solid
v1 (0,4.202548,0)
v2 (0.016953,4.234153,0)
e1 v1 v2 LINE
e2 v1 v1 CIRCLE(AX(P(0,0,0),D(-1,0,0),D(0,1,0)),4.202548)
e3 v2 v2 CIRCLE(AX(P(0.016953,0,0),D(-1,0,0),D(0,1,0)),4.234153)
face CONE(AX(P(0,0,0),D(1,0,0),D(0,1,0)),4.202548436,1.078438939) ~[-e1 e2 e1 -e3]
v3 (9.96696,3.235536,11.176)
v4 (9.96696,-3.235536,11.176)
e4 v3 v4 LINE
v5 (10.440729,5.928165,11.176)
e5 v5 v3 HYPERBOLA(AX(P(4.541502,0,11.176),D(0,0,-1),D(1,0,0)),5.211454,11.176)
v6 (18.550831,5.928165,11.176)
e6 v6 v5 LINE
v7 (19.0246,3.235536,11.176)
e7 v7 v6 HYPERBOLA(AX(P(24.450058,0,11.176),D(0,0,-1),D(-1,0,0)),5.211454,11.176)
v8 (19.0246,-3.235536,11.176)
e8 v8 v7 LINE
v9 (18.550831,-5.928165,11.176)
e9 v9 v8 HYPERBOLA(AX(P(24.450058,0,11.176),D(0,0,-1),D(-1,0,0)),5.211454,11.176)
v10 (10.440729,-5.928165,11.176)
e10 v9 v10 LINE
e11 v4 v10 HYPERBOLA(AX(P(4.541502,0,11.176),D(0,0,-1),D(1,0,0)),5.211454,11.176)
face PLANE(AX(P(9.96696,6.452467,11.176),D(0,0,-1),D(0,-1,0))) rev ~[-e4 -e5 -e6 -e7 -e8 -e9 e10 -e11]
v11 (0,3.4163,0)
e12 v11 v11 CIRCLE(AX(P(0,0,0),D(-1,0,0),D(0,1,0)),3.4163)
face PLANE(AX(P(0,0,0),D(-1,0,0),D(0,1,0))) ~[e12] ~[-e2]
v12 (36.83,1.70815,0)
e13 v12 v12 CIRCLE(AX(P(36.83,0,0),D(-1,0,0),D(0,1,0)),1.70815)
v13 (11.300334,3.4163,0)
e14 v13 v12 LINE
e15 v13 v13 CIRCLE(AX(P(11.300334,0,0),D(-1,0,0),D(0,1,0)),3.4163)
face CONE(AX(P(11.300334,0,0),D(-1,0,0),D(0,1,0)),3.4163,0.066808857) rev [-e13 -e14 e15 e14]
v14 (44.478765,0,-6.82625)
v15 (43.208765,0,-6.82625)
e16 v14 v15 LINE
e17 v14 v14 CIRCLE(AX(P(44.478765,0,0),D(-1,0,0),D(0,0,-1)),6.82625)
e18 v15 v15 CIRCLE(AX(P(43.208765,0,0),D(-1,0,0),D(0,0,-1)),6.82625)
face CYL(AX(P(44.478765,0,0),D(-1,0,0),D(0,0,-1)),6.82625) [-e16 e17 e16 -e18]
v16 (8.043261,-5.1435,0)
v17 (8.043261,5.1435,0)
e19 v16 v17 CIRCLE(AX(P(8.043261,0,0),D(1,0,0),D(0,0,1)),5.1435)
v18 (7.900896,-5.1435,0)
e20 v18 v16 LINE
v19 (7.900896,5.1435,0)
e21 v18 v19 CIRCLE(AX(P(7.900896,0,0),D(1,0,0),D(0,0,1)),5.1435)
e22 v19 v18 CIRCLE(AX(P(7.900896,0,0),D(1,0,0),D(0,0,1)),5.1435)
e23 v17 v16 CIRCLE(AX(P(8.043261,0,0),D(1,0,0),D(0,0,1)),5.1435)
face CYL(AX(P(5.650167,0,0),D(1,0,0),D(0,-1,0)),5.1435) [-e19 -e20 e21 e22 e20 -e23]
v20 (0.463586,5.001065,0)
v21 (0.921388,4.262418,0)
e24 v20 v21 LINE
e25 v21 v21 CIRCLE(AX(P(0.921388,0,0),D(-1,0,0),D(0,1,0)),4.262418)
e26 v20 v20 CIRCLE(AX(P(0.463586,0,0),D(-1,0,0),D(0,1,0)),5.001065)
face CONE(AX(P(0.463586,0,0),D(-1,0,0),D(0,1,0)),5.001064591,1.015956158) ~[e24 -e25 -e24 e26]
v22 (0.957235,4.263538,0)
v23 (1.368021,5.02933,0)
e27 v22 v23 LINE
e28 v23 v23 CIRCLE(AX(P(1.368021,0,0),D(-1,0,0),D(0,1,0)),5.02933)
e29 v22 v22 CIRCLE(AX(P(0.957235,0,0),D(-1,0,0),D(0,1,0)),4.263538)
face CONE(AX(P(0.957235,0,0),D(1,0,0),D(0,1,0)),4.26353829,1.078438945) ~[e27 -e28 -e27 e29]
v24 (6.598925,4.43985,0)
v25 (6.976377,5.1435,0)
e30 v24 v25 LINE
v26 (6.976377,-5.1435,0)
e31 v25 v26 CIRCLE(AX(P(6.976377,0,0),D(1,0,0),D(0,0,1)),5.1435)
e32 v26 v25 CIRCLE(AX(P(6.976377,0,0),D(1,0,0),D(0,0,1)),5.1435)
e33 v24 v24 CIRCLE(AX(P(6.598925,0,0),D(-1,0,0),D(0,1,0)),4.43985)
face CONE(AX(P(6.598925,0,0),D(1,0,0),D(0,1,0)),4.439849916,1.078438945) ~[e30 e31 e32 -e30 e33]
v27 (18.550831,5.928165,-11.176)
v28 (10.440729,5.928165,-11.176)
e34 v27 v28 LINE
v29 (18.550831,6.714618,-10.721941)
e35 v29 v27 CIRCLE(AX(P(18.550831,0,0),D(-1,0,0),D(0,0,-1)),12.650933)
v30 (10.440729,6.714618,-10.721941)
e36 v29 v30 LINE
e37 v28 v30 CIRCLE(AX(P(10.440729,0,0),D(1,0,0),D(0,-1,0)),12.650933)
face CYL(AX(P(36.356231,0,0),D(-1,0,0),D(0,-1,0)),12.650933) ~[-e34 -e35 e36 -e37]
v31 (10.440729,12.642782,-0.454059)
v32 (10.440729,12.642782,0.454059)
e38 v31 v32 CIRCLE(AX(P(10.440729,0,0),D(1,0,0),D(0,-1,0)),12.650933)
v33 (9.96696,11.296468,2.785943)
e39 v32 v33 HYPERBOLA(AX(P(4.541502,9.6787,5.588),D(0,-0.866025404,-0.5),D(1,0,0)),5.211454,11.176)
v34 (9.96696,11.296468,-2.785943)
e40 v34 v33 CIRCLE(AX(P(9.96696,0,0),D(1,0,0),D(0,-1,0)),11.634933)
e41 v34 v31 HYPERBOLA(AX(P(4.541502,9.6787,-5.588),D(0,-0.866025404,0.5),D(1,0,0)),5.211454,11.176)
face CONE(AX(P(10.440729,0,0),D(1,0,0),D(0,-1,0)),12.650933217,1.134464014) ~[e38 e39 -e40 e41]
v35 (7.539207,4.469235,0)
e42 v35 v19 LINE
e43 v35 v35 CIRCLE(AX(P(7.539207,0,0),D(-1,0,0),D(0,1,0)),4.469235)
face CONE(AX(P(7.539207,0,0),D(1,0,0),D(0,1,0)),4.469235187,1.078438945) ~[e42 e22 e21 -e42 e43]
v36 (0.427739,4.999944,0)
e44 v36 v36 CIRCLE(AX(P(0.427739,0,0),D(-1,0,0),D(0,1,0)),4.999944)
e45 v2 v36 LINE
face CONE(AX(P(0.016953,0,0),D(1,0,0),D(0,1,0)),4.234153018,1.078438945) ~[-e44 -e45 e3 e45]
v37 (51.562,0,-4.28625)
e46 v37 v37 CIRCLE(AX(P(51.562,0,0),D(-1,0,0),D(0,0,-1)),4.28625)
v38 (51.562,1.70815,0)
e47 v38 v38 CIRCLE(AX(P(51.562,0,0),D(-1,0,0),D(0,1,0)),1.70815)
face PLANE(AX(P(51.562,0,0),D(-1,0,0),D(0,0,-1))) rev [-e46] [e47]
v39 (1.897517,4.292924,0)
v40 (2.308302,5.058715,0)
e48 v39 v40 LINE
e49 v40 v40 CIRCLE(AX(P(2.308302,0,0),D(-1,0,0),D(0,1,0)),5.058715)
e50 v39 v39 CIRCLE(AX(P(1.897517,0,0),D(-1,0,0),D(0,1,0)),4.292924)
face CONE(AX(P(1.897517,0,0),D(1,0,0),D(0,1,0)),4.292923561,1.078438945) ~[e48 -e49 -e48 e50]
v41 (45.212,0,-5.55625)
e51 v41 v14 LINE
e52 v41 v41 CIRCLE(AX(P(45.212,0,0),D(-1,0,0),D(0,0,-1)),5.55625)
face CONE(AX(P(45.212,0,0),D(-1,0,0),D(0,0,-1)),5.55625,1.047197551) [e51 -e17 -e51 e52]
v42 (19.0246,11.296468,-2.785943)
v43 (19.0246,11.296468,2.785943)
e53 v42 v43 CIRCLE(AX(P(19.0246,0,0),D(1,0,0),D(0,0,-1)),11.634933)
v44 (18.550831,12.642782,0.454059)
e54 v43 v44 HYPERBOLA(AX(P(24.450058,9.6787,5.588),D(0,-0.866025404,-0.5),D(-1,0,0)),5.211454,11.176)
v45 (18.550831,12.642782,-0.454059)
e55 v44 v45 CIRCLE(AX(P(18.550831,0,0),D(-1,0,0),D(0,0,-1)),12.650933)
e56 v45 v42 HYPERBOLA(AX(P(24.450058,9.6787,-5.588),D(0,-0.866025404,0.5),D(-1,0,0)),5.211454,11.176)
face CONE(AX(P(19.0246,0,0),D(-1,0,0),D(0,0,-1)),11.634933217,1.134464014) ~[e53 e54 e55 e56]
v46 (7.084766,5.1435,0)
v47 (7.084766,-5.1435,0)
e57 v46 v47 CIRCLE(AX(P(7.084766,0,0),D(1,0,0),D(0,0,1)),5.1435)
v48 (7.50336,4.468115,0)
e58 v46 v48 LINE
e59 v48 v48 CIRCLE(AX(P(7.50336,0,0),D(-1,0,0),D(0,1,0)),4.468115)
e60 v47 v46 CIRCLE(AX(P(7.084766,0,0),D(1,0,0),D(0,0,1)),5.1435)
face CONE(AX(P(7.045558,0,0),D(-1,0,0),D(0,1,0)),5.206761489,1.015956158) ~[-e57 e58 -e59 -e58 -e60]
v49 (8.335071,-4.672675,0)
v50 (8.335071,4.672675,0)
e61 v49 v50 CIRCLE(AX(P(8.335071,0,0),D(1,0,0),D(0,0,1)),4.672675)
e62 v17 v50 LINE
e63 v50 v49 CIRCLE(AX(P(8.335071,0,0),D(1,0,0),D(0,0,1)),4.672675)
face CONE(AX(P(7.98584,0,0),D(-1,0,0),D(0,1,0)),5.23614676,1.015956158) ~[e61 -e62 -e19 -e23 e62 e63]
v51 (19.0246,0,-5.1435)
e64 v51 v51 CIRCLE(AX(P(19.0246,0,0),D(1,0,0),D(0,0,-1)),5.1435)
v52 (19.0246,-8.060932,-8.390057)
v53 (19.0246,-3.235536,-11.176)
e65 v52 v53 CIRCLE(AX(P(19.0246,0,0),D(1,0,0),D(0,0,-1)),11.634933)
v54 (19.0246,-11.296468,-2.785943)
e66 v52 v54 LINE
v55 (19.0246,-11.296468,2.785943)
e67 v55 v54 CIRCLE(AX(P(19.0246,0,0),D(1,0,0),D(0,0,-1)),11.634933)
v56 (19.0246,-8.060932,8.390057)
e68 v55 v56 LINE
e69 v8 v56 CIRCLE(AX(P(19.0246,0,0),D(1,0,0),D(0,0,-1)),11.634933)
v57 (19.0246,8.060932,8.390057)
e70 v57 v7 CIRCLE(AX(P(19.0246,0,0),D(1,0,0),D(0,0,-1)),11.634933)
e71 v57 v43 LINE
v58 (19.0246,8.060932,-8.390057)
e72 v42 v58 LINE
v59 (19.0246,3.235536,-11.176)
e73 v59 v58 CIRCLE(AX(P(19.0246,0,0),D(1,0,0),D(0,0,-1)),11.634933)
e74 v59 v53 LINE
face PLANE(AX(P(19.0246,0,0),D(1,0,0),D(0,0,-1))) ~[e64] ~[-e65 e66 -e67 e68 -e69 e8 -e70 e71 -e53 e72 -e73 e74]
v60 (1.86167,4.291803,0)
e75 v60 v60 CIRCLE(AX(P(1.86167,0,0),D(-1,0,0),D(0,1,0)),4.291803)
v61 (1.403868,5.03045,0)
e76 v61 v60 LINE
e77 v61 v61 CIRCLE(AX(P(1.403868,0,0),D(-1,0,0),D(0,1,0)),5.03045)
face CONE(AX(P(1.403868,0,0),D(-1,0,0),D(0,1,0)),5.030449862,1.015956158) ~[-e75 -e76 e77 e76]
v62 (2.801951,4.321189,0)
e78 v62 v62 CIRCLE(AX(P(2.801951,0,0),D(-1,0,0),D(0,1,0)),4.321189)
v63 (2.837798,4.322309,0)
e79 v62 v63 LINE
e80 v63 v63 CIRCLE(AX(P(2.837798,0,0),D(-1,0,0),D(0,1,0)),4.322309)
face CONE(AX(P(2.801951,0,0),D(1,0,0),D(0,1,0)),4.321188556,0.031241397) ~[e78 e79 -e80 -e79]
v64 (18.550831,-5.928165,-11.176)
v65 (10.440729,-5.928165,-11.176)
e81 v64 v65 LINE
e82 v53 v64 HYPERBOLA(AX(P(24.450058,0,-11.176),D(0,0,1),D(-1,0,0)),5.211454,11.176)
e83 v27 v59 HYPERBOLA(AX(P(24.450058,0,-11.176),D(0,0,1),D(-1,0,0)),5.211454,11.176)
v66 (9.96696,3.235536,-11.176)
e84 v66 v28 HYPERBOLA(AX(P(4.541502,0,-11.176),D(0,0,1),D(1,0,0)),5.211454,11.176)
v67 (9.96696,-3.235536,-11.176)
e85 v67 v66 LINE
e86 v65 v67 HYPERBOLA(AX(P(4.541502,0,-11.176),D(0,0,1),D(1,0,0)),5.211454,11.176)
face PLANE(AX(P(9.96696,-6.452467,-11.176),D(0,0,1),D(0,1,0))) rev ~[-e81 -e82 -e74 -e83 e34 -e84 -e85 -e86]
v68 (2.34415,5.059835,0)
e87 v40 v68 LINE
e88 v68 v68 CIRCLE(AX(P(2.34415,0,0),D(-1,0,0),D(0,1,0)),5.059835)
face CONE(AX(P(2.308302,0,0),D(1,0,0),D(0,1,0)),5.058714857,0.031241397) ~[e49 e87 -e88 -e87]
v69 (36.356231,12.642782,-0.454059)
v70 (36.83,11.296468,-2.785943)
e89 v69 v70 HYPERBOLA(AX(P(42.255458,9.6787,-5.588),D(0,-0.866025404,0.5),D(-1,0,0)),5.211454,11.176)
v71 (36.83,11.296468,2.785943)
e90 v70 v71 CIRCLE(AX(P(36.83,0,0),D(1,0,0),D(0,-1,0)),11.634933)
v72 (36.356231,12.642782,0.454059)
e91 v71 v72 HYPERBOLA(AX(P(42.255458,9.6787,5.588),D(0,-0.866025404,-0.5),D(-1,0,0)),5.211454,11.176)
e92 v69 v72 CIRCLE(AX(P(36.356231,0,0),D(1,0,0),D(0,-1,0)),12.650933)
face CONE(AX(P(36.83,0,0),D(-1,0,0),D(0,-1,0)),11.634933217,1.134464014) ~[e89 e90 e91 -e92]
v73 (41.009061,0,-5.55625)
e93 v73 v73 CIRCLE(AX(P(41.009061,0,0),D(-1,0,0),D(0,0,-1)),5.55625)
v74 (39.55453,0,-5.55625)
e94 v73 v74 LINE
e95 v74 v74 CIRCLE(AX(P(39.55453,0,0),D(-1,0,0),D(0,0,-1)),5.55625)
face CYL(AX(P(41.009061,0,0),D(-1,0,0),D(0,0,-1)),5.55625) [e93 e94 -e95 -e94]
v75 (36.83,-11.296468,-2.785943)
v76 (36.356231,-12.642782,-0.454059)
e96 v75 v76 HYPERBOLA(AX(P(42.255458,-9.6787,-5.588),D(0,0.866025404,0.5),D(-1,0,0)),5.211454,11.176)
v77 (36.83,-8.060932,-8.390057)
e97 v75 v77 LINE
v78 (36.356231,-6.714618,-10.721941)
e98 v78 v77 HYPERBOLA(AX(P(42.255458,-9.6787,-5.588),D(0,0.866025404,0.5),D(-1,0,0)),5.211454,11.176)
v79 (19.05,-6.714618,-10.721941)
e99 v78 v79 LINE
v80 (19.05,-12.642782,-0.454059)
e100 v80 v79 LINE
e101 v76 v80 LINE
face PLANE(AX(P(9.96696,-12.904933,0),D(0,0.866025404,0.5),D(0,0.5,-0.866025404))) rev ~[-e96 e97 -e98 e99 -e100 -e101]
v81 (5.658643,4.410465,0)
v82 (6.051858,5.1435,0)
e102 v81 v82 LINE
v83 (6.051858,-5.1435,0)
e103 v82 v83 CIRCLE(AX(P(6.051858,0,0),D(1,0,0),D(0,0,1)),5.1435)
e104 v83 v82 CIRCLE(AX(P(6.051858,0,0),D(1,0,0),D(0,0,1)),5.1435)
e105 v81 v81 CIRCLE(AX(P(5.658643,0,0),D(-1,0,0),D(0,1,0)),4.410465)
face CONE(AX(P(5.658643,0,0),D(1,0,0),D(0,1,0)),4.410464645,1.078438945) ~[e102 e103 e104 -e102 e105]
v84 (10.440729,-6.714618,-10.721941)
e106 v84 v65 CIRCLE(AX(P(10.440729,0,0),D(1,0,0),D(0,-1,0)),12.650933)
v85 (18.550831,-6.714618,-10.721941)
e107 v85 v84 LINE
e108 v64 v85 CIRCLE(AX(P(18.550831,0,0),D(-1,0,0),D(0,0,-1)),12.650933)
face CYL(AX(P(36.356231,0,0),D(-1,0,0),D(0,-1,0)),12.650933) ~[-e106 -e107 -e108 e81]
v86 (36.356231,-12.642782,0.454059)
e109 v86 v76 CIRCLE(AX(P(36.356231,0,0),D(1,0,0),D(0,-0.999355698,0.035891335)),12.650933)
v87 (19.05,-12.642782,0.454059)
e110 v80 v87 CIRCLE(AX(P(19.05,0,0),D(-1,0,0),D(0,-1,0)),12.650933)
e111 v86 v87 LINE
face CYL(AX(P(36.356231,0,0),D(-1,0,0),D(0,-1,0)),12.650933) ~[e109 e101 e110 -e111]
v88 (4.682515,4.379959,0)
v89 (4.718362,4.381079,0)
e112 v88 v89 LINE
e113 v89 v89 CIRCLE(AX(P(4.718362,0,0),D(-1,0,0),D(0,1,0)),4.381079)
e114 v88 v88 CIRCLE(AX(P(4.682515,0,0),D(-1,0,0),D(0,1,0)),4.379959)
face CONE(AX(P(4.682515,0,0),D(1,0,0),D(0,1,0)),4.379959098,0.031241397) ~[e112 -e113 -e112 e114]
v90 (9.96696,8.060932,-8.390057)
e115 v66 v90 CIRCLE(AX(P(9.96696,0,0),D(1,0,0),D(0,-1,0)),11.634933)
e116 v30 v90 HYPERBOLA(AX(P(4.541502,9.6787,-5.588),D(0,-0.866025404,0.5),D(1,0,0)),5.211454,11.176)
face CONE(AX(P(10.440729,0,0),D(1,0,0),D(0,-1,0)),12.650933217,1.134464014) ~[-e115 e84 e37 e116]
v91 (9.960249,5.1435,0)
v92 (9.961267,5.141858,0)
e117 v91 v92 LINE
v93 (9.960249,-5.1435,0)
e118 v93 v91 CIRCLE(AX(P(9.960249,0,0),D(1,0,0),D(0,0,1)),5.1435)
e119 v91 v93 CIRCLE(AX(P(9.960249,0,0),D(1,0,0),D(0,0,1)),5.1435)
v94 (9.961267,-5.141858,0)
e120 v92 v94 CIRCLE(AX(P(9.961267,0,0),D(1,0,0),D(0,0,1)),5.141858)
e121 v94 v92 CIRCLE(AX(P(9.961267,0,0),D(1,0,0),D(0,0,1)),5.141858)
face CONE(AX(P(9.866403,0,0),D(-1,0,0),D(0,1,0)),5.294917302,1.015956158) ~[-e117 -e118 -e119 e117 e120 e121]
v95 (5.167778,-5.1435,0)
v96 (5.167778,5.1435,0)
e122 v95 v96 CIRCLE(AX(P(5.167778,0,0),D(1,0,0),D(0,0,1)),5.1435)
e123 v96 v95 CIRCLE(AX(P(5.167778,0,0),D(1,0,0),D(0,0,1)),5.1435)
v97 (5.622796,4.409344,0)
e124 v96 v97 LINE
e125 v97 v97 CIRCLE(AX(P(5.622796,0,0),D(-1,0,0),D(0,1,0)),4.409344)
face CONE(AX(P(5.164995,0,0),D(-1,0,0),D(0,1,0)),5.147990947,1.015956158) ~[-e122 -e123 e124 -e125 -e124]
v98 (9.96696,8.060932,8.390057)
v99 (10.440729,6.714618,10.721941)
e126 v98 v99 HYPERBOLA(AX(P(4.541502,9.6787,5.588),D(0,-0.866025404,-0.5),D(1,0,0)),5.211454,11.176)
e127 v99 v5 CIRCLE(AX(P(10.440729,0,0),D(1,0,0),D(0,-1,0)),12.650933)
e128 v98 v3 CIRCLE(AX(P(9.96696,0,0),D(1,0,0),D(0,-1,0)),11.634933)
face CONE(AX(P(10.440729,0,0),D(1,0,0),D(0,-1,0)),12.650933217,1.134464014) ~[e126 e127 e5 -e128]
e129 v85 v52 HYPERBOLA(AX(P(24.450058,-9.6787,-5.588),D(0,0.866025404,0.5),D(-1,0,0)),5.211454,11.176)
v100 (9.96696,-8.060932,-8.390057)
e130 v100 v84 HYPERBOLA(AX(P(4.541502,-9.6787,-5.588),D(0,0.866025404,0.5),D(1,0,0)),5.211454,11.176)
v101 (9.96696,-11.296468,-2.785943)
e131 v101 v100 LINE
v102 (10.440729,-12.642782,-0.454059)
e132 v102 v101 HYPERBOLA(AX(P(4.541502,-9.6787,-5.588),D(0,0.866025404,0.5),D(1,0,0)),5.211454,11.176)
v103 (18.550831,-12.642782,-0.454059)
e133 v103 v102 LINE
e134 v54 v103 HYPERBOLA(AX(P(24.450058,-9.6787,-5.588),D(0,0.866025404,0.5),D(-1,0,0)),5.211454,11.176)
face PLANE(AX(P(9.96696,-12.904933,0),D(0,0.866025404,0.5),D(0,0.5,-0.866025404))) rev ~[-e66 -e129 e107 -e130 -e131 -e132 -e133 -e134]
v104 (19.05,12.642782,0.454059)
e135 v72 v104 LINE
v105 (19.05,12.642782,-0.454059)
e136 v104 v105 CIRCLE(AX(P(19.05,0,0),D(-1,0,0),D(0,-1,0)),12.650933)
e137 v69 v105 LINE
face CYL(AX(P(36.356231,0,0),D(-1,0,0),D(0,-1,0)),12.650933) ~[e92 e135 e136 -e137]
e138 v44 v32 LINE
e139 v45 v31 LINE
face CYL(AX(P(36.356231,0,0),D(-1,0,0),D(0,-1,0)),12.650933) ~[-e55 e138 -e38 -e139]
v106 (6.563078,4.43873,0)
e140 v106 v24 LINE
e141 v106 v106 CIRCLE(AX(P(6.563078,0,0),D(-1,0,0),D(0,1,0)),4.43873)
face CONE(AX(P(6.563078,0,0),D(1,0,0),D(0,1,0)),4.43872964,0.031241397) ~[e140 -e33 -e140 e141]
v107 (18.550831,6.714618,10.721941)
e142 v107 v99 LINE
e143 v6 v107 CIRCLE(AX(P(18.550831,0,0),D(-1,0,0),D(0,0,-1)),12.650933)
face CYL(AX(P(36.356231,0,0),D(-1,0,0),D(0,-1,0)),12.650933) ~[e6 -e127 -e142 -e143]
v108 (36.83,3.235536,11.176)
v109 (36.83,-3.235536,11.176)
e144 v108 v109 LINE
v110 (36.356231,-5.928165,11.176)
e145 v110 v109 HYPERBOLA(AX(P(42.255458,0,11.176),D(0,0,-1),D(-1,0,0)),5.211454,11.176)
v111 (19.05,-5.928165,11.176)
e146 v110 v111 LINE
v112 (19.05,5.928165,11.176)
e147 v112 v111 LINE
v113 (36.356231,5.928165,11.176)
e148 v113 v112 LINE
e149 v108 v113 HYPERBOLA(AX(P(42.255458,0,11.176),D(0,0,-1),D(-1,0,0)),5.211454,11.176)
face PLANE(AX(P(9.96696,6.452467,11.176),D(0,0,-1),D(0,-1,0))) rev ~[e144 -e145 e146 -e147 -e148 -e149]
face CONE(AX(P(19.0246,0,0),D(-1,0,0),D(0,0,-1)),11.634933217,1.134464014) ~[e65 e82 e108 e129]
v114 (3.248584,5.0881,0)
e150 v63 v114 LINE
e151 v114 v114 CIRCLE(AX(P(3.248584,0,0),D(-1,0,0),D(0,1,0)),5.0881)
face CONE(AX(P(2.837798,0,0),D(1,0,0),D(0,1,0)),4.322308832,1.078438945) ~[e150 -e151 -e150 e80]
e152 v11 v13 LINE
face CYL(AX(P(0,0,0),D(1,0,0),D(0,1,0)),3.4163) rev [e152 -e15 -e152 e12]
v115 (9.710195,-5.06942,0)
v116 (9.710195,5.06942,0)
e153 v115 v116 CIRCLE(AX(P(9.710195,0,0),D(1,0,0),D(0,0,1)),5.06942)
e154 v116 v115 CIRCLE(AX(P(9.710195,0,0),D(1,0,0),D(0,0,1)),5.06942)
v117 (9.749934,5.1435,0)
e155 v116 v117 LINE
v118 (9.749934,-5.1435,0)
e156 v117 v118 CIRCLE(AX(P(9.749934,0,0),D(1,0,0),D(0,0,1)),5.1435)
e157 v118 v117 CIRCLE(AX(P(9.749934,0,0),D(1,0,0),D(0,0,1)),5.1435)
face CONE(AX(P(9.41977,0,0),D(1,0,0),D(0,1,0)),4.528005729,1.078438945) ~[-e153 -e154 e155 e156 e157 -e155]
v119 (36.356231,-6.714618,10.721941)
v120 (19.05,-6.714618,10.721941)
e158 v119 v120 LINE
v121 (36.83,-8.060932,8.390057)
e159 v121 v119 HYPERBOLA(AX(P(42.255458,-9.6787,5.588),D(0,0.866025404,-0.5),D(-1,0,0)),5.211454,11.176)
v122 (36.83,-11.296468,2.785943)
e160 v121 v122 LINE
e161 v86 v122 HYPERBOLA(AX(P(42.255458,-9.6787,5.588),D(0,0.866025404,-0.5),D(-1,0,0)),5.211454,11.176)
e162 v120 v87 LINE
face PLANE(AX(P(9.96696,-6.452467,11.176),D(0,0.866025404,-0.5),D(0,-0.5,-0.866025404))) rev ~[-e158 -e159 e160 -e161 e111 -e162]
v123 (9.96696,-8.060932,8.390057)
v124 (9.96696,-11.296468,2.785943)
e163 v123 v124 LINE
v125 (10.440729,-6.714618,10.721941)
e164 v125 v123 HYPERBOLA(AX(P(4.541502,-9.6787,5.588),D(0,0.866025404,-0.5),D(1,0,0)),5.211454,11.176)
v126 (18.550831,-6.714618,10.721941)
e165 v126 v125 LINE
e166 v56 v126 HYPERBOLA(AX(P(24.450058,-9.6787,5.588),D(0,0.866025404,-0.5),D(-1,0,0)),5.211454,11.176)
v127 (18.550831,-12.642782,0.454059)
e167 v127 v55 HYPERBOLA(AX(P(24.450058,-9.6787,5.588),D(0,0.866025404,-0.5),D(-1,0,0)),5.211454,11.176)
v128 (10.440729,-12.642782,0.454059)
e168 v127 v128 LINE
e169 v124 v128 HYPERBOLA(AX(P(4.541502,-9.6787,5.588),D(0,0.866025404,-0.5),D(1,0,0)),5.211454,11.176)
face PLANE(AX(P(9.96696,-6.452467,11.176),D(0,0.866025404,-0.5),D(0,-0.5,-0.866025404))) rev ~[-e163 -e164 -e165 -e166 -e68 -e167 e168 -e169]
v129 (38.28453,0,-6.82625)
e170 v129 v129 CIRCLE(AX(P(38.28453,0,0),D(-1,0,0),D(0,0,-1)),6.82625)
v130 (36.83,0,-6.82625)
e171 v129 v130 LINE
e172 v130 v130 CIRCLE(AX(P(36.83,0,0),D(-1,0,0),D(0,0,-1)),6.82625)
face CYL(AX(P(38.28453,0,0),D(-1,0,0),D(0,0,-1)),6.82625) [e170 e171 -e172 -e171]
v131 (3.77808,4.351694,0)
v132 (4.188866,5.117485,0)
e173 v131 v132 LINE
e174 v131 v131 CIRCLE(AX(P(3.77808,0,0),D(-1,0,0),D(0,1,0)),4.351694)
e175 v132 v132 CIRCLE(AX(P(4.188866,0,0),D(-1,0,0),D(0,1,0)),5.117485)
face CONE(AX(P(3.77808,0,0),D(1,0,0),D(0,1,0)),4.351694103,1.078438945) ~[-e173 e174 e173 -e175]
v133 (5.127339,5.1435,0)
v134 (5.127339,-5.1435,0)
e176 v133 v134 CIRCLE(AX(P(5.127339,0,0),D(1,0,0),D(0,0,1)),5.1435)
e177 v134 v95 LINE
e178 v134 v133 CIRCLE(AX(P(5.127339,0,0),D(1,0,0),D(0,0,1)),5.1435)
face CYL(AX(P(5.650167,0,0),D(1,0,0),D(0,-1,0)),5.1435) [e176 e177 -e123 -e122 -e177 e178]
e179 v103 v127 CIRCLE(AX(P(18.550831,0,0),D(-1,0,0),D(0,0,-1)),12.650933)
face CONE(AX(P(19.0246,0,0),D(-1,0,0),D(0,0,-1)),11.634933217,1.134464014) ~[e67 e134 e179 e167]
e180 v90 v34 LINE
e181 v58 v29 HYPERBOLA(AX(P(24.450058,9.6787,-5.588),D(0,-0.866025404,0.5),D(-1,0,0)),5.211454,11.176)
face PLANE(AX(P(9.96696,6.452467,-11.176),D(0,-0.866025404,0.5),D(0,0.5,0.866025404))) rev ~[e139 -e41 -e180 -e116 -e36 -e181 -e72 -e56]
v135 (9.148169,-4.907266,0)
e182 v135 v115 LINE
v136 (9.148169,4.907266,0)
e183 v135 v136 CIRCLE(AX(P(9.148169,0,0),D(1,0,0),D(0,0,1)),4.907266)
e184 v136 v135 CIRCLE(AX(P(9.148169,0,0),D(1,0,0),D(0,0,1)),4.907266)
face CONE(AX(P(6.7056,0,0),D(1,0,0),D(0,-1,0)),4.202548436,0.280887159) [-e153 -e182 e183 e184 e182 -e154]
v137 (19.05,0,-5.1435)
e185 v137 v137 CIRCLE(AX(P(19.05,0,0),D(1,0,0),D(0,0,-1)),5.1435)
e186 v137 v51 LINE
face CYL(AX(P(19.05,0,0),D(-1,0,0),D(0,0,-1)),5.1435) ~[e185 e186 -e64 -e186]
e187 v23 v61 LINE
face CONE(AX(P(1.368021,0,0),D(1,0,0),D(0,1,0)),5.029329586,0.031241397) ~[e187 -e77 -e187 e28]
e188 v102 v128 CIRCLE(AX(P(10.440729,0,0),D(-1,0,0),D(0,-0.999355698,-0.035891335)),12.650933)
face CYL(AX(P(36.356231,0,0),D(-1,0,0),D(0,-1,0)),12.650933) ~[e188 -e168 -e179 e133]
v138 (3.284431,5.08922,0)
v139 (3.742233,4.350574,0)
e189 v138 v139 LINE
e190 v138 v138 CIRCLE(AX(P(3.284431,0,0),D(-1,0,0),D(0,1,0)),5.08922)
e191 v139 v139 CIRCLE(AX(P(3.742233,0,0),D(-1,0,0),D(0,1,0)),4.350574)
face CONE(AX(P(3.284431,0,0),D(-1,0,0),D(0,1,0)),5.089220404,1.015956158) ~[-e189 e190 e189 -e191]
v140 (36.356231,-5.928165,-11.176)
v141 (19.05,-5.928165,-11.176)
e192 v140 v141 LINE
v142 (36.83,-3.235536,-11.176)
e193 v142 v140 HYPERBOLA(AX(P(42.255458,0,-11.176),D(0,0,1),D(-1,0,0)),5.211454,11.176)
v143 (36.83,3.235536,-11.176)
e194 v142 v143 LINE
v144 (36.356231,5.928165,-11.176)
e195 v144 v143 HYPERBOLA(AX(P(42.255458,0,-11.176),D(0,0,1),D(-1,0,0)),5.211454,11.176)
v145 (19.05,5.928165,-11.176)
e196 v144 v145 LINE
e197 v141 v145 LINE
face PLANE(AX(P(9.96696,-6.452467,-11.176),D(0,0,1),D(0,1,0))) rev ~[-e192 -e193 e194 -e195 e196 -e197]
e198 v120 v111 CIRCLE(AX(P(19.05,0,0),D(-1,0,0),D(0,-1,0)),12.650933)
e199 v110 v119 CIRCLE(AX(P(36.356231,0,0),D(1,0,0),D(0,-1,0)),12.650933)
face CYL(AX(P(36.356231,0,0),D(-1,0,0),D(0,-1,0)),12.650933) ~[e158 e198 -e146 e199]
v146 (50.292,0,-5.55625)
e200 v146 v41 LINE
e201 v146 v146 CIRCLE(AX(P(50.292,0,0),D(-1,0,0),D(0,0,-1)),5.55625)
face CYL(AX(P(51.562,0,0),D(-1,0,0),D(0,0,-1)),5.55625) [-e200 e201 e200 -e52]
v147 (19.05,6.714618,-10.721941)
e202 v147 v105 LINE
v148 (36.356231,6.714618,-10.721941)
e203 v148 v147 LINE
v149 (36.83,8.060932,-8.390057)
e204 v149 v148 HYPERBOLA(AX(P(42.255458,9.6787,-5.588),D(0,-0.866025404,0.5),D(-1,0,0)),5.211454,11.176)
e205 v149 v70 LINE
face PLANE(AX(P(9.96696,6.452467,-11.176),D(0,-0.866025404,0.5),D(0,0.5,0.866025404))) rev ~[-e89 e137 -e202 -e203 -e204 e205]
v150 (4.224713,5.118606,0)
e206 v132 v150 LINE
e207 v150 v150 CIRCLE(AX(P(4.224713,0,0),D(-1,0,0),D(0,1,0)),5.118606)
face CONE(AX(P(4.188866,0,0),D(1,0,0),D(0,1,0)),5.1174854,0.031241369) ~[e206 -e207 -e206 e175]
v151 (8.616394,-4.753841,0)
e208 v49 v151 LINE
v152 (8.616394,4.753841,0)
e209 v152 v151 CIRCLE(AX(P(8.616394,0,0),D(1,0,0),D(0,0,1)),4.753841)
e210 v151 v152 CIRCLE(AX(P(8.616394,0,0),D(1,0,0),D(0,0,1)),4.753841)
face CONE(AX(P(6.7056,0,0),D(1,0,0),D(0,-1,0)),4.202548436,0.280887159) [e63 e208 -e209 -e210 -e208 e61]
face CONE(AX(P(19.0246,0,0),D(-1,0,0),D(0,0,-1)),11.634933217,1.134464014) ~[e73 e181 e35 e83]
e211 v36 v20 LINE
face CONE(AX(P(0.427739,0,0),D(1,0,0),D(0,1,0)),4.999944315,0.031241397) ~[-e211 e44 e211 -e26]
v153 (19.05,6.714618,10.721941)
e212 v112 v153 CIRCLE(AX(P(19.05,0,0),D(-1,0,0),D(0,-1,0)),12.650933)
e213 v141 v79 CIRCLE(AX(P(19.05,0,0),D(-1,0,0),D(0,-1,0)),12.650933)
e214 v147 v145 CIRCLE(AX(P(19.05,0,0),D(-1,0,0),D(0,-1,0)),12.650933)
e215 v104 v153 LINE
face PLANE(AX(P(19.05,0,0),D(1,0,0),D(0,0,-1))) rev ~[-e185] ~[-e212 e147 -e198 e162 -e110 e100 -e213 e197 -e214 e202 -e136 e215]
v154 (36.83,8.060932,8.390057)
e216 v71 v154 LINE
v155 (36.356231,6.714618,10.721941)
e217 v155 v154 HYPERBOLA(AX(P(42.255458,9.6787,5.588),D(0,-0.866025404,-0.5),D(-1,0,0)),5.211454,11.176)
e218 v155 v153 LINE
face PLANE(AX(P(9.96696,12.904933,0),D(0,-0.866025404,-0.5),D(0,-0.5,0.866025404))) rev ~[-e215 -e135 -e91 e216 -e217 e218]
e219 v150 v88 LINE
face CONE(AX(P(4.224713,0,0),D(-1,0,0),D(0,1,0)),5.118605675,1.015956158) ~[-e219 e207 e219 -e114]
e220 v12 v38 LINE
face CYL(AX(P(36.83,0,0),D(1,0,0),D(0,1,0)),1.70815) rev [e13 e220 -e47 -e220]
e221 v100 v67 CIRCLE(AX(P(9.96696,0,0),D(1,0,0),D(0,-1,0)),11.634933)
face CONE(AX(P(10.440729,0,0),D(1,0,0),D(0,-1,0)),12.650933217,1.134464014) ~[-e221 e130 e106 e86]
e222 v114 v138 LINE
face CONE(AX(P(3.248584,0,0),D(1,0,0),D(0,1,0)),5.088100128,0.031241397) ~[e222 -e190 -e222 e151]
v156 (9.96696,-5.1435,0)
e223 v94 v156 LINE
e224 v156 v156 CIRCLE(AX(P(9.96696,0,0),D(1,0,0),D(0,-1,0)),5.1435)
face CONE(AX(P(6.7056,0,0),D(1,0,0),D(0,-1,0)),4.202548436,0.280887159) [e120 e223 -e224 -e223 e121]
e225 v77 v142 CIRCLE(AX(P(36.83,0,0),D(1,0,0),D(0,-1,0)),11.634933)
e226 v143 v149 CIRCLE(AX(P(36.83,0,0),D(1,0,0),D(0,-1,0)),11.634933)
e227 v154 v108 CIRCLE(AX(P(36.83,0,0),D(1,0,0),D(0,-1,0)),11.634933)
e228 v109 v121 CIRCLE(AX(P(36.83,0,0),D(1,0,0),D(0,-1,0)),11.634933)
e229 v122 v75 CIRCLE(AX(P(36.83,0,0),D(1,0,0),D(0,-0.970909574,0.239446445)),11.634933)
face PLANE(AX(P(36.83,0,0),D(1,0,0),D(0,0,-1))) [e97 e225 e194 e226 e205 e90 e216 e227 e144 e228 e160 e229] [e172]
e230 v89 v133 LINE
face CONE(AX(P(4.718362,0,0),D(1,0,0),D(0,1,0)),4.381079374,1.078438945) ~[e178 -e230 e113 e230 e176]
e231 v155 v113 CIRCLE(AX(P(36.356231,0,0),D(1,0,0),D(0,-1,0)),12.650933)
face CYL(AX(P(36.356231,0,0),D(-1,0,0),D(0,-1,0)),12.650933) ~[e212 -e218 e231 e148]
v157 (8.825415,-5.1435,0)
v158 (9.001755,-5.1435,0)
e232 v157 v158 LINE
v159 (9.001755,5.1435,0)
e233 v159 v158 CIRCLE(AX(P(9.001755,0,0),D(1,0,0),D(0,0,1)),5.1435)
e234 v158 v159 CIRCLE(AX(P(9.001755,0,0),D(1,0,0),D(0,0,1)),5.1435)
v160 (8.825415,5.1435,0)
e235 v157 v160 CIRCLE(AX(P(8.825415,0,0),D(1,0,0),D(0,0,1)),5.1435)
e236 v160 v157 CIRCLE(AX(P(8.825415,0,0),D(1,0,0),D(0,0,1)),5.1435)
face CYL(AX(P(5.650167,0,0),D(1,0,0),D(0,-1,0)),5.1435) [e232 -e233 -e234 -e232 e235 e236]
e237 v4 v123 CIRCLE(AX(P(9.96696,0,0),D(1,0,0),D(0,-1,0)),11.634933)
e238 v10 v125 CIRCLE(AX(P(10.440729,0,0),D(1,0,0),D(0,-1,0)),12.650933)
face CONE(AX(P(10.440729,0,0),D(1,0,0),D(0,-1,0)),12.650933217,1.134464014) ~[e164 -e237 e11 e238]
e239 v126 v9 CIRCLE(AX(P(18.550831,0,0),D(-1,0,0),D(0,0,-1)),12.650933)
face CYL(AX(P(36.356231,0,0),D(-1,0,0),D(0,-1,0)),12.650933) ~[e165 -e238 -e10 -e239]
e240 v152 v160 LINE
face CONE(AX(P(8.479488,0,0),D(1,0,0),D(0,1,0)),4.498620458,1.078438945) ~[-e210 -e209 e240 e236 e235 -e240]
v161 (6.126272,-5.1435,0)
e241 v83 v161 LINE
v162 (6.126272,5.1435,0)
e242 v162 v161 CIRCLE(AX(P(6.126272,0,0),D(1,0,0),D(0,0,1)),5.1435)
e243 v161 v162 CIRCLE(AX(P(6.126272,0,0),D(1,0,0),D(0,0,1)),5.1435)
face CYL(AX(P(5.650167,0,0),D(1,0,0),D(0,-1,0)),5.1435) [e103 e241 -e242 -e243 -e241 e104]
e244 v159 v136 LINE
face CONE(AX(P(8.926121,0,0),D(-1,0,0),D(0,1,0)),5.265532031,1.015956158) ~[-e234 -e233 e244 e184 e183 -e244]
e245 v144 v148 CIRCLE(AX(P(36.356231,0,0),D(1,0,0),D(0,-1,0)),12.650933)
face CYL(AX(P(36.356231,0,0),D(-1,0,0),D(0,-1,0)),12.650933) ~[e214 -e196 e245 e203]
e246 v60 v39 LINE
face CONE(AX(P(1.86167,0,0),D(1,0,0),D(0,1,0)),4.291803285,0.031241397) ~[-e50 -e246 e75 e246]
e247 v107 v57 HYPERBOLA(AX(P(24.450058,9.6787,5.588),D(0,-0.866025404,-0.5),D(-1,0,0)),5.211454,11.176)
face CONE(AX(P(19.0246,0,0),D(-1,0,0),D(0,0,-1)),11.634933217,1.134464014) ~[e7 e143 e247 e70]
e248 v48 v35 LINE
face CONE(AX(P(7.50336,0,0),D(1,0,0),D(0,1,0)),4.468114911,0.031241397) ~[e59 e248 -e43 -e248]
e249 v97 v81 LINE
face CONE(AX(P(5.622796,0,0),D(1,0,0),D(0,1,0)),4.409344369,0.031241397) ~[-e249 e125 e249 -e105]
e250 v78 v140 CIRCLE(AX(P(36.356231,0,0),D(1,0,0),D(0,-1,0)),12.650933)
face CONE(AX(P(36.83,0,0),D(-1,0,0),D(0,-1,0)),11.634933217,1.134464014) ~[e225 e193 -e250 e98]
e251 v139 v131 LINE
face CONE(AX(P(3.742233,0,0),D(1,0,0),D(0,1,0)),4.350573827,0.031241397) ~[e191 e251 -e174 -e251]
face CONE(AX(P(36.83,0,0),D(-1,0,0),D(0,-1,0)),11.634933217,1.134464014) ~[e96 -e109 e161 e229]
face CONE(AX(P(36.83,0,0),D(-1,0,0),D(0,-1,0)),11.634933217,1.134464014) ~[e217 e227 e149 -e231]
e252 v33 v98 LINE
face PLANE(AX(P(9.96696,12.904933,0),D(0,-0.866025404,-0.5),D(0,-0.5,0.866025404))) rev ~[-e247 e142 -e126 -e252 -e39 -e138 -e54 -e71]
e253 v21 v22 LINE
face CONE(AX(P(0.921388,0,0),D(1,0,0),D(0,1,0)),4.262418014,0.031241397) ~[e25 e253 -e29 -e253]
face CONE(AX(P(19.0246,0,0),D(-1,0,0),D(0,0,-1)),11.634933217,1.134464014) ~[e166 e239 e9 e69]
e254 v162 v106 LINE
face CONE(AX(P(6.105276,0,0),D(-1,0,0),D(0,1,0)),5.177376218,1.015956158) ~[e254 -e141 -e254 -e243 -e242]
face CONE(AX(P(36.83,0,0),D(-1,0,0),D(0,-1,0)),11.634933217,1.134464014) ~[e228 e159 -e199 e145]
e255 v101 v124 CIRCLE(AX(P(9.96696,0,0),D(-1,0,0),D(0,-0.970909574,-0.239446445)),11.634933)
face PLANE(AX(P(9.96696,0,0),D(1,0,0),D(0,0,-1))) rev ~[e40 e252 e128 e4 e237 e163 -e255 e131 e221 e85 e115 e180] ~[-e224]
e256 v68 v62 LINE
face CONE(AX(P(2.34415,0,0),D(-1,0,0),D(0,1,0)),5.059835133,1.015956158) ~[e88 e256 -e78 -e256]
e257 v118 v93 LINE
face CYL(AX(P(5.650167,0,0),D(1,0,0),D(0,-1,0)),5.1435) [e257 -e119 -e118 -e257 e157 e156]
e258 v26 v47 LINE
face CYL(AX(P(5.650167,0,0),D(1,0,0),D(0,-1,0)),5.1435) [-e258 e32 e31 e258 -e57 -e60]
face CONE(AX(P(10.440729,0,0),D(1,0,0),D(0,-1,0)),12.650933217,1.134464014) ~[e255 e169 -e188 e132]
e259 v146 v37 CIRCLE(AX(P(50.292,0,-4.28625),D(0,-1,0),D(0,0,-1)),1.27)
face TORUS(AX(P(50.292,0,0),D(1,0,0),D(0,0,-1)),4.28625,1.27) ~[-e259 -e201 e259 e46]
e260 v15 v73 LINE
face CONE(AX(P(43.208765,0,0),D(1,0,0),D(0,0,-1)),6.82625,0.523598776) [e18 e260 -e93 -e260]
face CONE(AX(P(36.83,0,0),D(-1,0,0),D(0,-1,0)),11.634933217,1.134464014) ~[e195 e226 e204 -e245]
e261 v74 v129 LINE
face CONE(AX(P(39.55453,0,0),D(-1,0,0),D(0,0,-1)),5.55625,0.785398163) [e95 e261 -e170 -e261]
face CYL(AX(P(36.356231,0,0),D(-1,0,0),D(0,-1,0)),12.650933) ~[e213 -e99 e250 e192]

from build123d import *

# Parameters (mm, degrees)
SKETCH6_W      = 11.300333551
SKETCH6_H      = 15.496408613
EXTRUDE1_DEPTH = 26.86304
FILLET1_R      = 1.27


with BuildPart() as part:
    # Sketch1 → Revolve1 (revolve)
    with BuildSketch(Plane.XY):
        Polygon((0, 0), (0, 4.202548436), (0.016953331, 4.234153018), (0.42773912, 4.999944315), (0.463586157, 5.001064591), (0.921387979, 4.262418014), (0.957235016, 4.26353829), (1.368020805, 5.029329586), (1.403867842, 5.030449862), (1.861669664, 4.291803285), (1.897516701, 4.292923561), (2.30830249, 5.058714857), (2.344149527, 5.059835133), (2.801951349, 4.321188556), (2.837798386, 4.322308832), (3.248584175, 5.088100128), (3.284431212, 5.089220404), (3.742233034, 4.350573827), (3.778080071, 4.351694103), (4.18886586, 5.1174854), (4.224712897, 5.118605675), (4.682514719, 4.379959098), (4.718361756, 4.381079374), (5.129147545, 5.146870671), (5.164994582, 5.147990947), (5.622796404, 4.409344369), (5.658643441, 4.410464645), (6.06942923, 5.176255942), (6.105276267, 5.177376218), (6.563078089, 4.43872964), (6.598925126, 4.439849916), (7.009710915, 5.205641213), (7.045557952, 5.206761489), (7.503359774, 4.468114911), (7.539206811, 4.469235187), (7.9499926, 5.235026484), (7.985839637, 5.23614676), (8.443641459, 4.497500182), (8.479488496, 4.498620458), (8.890274285, 5.264411755), (8.926121322, 5.265532031), (9.383923144, 4.526885454), (9.419770181, 4.528005729), (9.83055597, 5.293797026), (9.866403007, 5.294917302), (10.324204829, 4.556270725), (10.360051866, 4.557391001), (10.770837655, 5.323182297), (10.806684692, 5.324302573), (11.264486514, 4.585655996), (11.300333551, 4.586776272), (11.300333551, 0), align=None)
    revolve(axis=Axis((0, 0, 0), (-1, 0, 0)))

    # Sketch5 → Cut-Revolve2 (revolve, cut)
    with BuildSketch(Plane.XY, mode=Mode.PRIVATE) as cut_revolve2_sk:
        Polygon((9.96696, 0), (9.96696, 5.298059865), (11.300333551, 5.339729871), (11.300333551, 0), align=None)
    revolve(cut_revolve2_sk.sketch.rotate(Axis((0, 0, 0), (-1, 0, 0)), 180), axis=Axis((0, 0, 0), (-1, 0, 0)), mode=Mode.SUBTRACT)

    # Sketch6 → Cut-Revolve3 (revolve, cut)
    with BuildSketch(Plane.XY, mode=Mode.PRIVATE) as cut_revolve3_sk:
        with Locations((5.650166776, 12.891704307)):
            Rectangle(SKETCH6_W, SKETCH6_H)
    revolve(cut_revolve3_sk.sketch.rotate(Axis((0, 0, 0), (1, 0, 0)), 180), axis=Axis((0, 0, 0), (1, 0, 0)), mode=Mode.SUBTRACT)

    # Sketch7 → Revolve2 (revolve)
    with BuildSketch(Plane.XY, mode=Mode.PRIVATE) as revolve2_sk:
        Polygon((6.7056, 4.202548436), (9.96696, 5.1435), (9.96696, 4.202548436), align=None)
    revolve(revolve2_sk.sketch.rotate(Axis((0, 0, 0), (1, 0, 0)), 180), axis=Axis((0, 0, 0), (1, 0, 0)))

    # Sketch8 → Extrude1 (add)
    with BuildSketch(Plane(origin=(9.96696, 0, 0), x_dir=(0, 0, -1), z_dir=(1, 0, 0))):
        Polygon((0, 12.904933217), (-11.176, 6.452466608), (-11.176, -6.452466608), (0, -12.904933217), (11.176, -6.452466608), (11.176, 6.452466608), align=None)
    extrude(amount=EXTRUDE1_DEPTH)

    # Sketch9 → Cut-Revolve4 (revolve, cut)
    with BuildSketch(Plane.XY, mode=Mode.PRIVATE) as cut_revolve4_sk:
        Polygon((36.83, 11.634933217), (36.356231419, 12.650933217), (10.440728581, 12.650933217), (9.96696, 11.634933217), (9.96696, 12.904933217), (36.83, 12.904933217), align=None)
    revolve(cut_revolve4_sk.sketch.rotate(Axis((0, 0, 0), (1, 0, 0)), 180), axis=Axis((0, 0, 0), (1, 0, 0)), mode=Mode.SUBTRACT)

    # Sketch10 → Revolve3 (revolve)
    with BuildSketch(Plane.XY, mode=Mode.PRIVATE) as revolve3_sk:
        Polygon((36.83, 0), (51.562, 0), (51.562, 5.55625), (45.212, 5.55625), (44.478765158, 6.82625), (43.208765158, 6.82625), (41.009060633, 5.55625), (39.554530316, 5.55625), (38.284530316, 6.82625), (36.83, 6.82625), align=None)
    revolve(revolve3_sk.sketch.rotate(Axis((0, 0, 0), (-1, 0, 0)), 90), axis=Axis((0, 0, 0), (-1, 0, 0)))

    # Fillet1
    fillet1_edges = [part.edges().sort_by_distance(p)[0] for p in [
        (51.562, 0, 5.55625),
    ]]
    fillet(fillet1_edges, radius=FILLET1_R)

    # Sketch11 → Cut-Revolve5 (revolve, cut)
    with BuildSketch(Plane.XY):
        Polygon((11.300333551, 3.4163), (36.83, 1.70815), (51.562, 1.70815), (51.562, 0), (6.7056, 0), (0, 0), (0, 3.4163), align=None)
    revolve(axis=Axis((0, 0, 0), (-1, 0, 0)), mode=Mode.SUBTRACT)

    # Sketch12 → Cut-Revolve6 (revolve, cut)
    with BuildSketch(Plane.XY, mode=Mode.PRIVATE) as cut_revolve6_sk:
        Polygon((19.0246, 11.634933217), (18.432389274, 12.904933217), (19.05, 12.904933217), (19.05, 5.1435), (19.0246, 5.1435), align=None)
    revolve(cut_revolve6_sk.sketch.rotate(Axis((0, 0, 0), (1, 0, 0)), 270), axis=Axis((0, 0, 0), (1, 0, 0)), mode=Mode.SUBTRACT)


solid = part.part
